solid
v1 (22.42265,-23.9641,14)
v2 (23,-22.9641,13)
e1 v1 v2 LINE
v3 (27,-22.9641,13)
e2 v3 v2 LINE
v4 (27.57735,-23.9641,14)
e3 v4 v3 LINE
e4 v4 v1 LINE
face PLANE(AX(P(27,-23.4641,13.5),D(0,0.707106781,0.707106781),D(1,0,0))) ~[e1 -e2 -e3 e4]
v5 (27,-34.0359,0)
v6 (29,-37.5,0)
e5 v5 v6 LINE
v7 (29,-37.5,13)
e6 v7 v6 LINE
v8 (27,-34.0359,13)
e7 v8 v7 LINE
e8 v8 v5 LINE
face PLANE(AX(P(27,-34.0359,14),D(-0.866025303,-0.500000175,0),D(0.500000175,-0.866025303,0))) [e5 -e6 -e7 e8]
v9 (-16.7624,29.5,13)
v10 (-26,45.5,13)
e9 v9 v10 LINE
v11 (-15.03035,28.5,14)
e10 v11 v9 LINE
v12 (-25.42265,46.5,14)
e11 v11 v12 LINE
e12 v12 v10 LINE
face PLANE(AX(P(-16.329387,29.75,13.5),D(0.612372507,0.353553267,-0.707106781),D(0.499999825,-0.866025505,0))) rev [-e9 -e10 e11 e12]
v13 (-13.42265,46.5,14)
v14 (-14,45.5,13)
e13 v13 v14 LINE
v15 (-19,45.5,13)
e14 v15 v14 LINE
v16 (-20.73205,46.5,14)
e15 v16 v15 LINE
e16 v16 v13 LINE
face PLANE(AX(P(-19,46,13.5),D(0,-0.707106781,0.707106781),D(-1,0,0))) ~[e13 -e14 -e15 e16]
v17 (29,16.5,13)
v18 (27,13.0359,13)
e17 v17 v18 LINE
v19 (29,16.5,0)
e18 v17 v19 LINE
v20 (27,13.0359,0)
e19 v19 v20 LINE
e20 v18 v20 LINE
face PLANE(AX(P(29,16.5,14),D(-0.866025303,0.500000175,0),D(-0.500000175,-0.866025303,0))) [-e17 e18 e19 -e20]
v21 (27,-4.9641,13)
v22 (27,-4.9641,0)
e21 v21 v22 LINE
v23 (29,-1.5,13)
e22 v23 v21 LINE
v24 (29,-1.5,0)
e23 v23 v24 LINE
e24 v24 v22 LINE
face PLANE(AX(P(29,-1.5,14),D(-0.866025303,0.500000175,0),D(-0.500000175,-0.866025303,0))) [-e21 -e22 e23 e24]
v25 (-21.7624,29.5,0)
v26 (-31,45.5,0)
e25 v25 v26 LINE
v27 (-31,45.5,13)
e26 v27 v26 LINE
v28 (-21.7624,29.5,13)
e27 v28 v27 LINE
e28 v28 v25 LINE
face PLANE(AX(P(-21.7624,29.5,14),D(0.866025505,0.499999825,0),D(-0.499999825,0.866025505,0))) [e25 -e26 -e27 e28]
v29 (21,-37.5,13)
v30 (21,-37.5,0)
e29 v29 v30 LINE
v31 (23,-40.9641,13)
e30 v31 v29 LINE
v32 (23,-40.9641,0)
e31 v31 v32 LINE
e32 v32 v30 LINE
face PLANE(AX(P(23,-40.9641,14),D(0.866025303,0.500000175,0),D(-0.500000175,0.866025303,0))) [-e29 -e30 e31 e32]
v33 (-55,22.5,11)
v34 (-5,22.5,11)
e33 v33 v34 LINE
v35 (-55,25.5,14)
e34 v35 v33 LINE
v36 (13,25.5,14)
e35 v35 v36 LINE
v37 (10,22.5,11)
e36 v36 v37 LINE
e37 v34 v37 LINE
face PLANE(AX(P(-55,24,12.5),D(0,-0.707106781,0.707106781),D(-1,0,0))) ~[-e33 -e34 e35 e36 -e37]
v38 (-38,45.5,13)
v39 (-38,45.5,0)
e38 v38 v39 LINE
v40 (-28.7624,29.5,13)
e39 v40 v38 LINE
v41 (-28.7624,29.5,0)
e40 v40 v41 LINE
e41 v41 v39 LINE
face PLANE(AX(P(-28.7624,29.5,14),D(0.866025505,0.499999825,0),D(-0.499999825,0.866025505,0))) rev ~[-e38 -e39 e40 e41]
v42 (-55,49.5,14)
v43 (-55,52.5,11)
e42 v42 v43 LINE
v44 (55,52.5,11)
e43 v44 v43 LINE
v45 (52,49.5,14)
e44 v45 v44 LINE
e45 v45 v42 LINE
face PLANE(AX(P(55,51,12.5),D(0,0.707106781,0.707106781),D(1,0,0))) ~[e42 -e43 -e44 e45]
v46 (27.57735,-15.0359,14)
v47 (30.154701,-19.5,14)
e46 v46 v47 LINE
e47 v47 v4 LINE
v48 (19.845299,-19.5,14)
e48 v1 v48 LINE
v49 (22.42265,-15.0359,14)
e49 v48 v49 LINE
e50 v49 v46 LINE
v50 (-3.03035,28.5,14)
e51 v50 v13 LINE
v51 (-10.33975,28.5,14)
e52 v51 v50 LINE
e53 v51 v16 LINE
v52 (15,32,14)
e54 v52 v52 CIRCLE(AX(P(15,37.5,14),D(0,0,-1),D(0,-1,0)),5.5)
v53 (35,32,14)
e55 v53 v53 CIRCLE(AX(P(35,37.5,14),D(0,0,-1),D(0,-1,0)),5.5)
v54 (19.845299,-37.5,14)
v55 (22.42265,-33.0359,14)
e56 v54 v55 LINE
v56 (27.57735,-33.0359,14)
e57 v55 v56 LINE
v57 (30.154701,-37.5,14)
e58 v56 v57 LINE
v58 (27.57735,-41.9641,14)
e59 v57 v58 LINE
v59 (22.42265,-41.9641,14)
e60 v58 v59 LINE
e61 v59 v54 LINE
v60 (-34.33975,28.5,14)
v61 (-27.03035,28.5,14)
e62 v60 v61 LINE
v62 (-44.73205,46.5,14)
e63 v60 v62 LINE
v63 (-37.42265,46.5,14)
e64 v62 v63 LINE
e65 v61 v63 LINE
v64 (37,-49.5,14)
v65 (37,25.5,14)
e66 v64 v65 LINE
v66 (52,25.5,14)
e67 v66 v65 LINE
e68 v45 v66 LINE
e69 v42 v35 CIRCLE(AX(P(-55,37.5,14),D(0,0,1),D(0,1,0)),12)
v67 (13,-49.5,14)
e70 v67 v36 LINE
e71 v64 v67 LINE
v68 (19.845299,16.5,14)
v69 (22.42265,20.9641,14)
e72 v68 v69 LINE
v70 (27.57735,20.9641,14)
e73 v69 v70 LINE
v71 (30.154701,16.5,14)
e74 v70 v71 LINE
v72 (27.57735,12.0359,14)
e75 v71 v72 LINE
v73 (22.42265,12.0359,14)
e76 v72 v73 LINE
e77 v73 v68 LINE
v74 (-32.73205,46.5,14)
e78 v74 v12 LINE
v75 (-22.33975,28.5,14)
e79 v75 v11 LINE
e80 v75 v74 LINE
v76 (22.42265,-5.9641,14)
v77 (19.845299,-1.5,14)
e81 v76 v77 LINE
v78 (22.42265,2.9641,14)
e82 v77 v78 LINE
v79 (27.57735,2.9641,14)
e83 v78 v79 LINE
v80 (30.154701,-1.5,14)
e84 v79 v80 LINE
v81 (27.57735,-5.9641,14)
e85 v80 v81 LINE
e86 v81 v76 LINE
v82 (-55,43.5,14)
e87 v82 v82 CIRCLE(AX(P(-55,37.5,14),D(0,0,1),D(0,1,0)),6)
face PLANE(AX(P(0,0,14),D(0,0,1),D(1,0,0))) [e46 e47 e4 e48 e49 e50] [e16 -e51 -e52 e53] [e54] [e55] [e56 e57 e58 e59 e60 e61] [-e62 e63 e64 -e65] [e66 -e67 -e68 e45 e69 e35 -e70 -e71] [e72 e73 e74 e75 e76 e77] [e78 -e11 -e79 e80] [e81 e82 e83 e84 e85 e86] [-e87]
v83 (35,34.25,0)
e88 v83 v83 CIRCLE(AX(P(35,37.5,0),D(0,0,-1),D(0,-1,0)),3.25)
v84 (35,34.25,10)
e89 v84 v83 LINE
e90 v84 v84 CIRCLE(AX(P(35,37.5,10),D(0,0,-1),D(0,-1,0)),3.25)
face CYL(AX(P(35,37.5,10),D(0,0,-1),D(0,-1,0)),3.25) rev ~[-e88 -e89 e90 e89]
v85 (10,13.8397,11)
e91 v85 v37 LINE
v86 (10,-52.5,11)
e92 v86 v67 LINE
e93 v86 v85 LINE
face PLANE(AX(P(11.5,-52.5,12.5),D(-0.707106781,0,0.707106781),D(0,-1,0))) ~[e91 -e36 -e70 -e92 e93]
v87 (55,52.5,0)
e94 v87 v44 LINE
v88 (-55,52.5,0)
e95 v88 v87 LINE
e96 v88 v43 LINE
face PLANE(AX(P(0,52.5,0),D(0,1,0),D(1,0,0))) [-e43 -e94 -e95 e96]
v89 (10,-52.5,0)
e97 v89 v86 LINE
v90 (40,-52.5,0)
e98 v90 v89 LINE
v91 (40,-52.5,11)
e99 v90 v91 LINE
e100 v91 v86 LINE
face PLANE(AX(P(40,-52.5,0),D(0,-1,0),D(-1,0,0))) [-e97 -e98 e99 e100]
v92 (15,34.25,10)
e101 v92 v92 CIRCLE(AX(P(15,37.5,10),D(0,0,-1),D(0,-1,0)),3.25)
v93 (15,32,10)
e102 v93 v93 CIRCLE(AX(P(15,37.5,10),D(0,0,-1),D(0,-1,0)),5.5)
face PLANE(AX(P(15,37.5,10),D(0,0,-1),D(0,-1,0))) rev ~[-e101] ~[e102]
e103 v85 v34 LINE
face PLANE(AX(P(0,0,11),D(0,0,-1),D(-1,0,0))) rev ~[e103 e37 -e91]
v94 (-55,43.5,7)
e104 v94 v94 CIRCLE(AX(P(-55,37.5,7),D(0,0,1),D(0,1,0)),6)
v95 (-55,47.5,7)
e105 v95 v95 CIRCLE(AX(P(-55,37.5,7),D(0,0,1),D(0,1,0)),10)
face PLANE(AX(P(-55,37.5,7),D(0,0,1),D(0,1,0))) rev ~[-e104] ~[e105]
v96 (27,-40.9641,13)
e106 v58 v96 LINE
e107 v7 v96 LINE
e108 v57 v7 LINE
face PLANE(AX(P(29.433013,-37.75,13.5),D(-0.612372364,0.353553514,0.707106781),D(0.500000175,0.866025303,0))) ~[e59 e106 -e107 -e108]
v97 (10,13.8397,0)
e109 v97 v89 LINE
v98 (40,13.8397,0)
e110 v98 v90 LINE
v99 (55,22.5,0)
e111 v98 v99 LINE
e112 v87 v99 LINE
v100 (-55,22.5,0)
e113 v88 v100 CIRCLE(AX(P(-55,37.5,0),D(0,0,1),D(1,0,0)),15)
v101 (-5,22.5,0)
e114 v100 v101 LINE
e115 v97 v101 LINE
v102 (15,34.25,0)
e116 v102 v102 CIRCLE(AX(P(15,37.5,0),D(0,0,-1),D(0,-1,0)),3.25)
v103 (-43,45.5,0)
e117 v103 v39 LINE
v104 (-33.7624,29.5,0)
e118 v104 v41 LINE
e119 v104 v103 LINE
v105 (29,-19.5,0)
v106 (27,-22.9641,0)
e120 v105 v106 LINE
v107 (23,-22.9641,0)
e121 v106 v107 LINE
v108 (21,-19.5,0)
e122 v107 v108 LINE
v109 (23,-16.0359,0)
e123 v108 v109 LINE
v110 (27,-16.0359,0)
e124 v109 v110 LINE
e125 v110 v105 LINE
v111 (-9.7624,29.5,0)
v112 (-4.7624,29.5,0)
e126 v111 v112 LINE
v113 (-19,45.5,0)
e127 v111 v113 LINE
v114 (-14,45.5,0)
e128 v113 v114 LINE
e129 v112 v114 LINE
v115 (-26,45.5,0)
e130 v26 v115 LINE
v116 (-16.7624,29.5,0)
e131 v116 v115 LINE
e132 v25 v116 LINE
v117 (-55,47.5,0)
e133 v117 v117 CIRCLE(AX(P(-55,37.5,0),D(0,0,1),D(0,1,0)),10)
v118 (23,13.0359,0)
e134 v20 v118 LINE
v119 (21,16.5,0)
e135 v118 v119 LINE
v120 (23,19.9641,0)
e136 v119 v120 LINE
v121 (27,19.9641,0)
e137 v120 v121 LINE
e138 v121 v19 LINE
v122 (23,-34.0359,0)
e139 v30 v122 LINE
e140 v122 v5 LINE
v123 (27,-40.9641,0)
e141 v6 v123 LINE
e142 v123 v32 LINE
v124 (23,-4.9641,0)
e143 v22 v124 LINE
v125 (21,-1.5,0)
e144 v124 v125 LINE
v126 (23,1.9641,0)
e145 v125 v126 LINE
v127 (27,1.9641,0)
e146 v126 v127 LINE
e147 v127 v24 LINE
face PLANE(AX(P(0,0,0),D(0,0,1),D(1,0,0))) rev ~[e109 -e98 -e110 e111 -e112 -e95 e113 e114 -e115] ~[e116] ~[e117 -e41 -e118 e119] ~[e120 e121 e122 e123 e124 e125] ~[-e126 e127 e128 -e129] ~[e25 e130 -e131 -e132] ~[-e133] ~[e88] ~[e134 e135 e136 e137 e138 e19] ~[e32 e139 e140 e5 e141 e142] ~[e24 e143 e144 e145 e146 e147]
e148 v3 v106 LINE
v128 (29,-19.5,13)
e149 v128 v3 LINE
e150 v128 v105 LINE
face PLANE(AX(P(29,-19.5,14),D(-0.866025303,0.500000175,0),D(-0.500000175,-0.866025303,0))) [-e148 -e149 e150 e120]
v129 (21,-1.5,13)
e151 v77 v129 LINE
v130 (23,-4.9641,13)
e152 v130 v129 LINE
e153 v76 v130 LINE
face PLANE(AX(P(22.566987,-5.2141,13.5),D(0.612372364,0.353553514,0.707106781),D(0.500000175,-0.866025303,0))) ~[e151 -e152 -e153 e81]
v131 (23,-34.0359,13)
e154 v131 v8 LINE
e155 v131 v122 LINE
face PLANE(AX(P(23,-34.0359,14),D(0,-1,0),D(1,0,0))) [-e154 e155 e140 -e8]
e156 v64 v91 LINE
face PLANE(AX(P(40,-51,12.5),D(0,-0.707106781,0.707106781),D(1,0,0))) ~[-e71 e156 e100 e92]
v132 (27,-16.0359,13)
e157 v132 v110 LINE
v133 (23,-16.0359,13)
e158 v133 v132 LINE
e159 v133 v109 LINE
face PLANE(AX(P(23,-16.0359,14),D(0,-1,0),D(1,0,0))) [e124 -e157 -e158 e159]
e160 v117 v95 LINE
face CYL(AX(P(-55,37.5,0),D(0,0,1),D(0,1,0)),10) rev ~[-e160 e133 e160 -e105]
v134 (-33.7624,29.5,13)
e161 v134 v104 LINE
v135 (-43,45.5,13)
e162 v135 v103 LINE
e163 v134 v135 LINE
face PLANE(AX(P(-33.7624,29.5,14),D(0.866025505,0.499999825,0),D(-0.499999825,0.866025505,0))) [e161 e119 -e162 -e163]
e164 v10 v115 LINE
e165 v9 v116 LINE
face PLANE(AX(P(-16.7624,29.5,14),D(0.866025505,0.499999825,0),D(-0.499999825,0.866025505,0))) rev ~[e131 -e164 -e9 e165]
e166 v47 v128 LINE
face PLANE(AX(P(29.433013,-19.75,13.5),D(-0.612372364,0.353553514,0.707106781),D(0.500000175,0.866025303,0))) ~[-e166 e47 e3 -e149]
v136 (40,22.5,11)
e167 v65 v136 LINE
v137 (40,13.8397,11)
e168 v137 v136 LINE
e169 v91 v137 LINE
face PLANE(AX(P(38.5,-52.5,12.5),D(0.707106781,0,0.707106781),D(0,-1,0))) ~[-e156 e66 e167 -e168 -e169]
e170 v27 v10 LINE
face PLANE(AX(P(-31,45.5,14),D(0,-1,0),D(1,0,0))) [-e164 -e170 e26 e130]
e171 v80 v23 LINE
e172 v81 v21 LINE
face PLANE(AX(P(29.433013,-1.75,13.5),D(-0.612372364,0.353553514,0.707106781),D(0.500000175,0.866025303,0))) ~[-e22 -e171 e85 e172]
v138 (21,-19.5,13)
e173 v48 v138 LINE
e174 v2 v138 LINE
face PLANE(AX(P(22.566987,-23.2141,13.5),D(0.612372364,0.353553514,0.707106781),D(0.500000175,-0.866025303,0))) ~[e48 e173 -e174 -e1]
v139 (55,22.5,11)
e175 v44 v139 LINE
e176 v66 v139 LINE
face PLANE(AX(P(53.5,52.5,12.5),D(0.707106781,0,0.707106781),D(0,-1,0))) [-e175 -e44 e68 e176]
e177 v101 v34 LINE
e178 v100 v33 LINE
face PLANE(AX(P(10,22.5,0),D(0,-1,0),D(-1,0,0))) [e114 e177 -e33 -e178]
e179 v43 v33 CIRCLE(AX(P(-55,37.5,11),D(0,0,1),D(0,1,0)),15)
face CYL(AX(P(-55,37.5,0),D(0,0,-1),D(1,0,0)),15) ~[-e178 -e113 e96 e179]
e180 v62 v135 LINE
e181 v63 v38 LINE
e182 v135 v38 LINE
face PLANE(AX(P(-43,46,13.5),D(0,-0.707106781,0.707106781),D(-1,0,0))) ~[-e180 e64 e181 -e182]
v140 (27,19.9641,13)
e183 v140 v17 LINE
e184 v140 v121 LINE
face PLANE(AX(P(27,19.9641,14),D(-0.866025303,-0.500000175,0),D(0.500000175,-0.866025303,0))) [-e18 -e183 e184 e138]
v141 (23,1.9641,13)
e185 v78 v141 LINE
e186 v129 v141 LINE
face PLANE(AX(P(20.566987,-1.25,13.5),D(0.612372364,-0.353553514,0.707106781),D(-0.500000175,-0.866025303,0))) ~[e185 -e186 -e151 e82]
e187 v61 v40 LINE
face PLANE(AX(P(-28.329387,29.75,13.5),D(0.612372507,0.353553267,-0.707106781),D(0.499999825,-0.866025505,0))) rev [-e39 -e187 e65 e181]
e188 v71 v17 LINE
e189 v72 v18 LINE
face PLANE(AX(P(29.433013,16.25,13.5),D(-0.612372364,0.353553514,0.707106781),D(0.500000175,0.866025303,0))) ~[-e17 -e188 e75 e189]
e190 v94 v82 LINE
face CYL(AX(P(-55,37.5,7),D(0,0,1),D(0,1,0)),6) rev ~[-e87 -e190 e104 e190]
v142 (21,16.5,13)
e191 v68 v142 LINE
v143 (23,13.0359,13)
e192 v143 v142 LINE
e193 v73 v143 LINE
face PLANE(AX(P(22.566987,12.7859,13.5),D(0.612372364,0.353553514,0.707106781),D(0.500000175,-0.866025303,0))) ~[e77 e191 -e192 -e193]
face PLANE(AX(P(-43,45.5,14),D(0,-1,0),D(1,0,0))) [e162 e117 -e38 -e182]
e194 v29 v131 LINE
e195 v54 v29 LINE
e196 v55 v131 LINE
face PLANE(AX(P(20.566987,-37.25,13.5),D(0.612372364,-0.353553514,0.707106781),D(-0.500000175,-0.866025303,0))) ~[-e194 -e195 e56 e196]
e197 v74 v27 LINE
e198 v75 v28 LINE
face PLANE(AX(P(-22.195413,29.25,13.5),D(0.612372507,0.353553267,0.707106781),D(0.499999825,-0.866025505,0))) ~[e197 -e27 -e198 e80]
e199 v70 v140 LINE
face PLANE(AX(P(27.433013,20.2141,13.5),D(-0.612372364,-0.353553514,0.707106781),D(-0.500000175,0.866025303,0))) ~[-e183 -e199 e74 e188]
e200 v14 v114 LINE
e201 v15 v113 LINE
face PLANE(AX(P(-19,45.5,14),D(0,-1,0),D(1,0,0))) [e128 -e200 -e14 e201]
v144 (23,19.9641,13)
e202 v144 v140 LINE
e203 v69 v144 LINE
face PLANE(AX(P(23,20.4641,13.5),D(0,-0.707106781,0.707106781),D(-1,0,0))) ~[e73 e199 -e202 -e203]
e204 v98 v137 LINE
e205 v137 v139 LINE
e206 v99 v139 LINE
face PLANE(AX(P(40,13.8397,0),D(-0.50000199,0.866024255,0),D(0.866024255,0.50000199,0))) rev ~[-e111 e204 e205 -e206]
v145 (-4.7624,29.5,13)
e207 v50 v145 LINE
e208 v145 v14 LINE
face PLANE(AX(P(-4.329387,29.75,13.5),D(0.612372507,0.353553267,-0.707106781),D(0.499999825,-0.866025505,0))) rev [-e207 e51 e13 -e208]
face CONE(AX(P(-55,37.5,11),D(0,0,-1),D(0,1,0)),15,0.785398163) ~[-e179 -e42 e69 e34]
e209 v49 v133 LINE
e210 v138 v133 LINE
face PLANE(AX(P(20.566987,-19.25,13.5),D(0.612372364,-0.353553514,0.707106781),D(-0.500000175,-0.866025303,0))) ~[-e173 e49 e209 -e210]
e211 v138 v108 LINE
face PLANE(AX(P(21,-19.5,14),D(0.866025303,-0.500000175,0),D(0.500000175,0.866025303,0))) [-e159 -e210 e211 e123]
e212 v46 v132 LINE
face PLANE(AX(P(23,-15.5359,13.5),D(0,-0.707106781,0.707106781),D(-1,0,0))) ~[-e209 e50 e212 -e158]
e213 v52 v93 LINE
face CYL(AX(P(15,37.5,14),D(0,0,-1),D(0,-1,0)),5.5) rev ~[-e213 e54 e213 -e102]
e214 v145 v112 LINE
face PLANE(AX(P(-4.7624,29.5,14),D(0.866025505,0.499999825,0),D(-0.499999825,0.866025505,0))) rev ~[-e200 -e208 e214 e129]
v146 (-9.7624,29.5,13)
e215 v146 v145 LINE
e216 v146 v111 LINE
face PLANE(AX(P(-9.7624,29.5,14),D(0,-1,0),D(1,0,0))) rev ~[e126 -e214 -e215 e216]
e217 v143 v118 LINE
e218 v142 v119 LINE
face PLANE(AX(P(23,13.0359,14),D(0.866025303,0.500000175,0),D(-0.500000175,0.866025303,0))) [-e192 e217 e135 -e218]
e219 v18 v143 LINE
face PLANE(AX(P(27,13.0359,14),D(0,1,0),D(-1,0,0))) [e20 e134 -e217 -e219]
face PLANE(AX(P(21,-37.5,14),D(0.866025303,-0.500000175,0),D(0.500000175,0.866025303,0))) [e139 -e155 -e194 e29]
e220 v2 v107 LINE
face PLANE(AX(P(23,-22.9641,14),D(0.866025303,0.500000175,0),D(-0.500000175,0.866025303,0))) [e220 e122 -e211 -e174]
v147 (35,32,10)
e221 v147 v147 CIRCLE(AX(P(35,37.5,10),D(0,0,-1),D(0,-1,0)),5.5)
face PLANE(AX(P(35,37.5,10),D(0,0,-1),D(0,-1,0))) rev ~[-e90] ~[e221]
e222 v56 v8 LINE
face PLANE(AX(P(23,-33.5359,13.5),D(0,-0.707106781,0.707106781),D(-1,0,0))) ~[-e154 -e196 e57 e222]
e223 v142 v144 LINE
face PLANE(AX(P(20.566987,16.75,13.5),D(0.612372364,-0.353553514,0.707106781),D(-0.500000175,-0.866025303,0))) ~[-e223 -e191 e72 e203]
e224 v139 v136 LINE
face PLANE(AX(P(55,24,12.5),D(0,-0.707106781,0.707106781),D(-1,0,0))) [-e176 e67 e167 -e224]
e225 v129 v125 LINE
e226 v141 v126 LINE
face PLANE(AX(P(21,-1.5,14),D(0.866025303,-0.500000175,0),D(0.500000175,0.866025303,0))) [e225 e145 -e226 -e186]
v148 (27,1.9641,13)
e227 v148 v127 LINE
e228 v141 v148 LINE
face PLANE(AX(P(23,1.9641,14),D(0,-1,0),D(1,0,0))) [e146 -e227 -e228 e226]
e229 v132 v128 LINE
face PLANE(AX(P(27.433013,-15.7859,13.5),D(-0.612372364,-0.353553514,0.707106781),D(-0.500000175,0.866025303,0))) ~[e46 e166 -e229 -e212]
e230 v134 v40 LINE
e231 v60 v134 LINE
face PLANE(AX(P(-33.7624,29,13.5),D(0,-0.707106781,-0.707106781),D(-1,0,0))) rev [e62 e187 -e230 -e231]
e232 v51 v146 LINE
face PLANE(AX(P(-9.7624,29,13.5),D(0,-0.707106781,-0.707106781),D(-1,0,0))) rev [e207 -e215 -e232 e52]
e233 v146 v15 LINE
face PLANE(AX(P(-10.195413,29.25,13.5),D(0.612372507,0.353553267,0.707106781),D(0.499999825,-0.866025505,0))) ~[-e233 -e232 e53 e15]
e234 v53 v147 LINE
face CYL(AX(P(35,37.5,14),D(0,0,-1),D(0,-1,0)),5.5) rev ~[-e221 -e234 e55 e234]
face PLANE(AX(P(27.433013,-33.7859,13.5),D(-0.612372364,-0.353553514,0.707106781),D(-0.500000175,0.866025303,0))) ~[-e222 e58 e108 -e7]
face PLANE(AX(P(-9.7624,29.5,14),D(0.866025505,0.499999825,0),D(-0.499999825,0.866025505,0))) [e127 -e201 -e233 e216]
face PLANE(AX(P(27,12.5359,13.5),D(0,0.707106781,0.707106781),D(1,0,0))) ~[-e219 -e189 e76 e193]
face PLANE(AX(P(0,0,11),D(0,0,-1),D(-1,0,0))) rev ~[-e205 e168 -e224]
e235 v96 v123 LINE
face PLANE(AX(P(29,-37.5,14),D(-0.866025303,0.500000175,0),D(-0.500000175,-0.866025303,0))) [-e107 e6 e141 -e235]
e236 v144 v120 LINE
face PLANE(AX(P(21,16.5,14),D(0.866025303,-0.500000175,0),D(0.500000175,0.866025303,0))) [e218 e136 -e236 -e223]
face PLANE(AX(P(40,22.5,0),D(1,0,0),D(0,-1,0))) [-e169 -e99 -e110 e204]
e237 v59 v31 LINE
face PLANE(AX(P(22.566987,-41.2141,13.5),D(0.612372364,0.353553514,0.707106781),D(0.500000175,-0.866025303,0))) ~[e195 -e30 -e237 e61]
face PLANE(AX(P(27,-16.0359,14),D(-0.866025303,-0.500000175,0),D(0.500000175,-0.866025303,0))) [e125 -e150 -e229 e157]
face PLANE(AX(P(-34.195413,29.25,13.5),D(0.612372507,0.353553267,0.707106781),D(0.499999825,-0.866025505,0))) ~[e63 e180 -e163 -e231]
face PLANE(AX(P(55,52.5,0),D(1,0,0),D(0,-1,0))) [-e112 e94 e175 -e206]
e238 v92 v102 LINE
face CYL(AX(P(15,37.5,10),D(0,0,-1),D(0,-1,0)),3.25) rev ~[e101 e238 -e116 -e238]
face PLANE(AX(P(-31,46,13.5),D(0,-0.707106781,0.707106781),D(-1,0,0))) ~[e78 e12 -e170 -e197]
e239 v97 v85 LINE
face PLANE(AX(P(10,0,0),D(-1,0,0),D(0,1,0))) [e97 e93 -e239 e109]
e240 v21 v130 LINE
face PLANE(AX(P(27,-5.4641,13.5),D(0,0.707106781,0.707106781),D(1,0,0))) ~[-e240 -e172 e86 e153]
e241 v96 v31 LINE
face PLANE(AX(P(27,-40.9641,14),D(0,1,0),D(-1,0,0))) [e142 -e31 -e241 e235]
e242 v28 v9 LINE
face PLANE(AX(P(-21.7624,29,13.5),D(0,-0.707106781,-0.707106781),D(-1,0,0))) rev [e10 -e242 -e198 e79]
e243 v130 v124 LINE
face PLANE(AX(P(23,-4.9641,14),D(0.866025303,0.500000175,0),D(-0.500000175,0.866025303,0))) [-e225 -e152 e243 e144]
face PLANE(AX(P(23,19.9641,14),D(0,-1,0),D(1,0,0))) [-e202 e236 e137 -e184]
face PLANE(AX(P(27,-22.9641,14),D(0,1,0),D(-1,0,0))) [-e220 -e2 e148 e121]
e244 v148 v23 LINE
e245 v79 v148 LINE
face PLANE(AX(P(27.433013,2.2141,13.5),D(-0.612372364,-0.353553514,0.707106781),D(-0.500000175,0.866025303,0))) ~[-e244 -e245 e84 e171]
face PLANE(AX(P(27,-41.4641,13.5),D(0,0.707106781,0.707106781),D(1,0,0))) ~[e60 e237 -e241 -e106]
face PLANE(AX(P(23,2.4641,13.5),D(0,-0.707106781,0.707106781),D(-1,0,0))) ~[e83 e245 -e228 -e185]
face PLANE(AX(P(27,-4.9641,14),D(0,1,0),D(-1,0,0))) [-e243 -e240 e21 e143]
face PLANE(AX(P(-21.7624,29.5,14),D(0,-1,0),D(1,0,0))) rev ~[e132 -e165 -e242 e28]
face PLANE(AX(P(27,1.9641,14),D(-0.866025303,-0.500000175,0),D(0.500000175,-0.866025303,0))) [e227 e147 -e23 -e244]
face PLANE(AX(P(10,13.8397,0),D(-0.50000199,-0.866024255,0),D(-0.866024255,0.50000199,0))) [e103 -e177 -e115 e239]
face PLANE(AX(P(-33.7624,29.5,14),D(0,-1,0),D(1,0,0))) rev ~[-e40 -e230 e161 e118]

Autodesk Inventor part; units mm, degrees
ref_plane "YZ Plane" through (0, 0, 0) normal (1, 0, 0) x (0, 1, 0)
ref_plane "XZ Plane" through (0, 0, 0) normal (0, 1, 0) x (-1, 0, 0)
sketch "Náčrt1" plane through (0, 0, 0) normal (0, 0, 1) x (1, 0, 0)
  line L0 (-95, 0) -> (80, 0) projected
  line L1 (0, -73.5) -> (0, 73.5) projected
  line L2 (-55, 52.5) -> (55, 52.5)
  line L3 (55, 52.5) -> (55, 22.5)
  line L4 (55, 22.5) -> (-55, 22.5)
  line L5 (-55, 22.5) -> (-55, 52.5)
  line L6 (40, -52.5) -> (10, -52.5)
  line L7 (10, -52.5) -> (10, 22.5)
  line L8 (10, 22.5) -> (40, 22.5)
  line L9 (40, 22.5) -> (40, -52.5)
  circle A0 centre (-55, 37.5) radius 15
  point P0 (0, 0)
  dimension "d0" = 30
  dimension "d1" = 110
  dimension "d2" = 30
  dimension "d3" = 15
  dimension "d4" = 75
extrude "Vysunutí1" add sketch "Náčrt1" along normal blind 14 contours L7 L4 L9 L0 | L0 L9 L6 L7 | L4 A0 L2 L1 | L1 L2 L3 L4 | A0 L5 | L5 A0
sketch "Náčrt2" plane through (0, 0, 0) normal (0, 0, -1) x (-1, 0, 0)
  line L0 (-55, 52.5) -> (55, 52.5) projected
  line L1 (-55, 52.5) -> (55, 52.5) projected
  line L2 (-55, 22.5) -> (-55, 52.5) projected
  line L3 (-40, 22.5) -> (-55, 22.5) projected
  line L4 (-40, -52.5) -> (-40, 22.5) projected
  line L5 (-10, -52.5) -> (-40, -52.5) projected
  line L6 (-10, 22.5) -> (-10, -52.5) projected
  line L7 (55, 22.5) -> (-10, 22.5) projected
  arc A0 (55, 22.5) -> (55, 52.5) centre (55, 37.5) ccw projected
  point P0 (0, 0)
hole "Díra1" at (-55, 37.5, 0) direction (0, 0, 1) diameter 12 end through all counterbore diameter 20 counterbore depth 7
chamfer "Zkosení1" distance 3 angle 45 8 edges at (0, 52.5, 14) (-70, 37.5, 14) (-22.5, 22.5, 14) (10, -15, 14) (40, -15, 14) (47.5, 22.5, 14) (55, 37.5, 14) (25, -52.5, 14)
sketch "Náčrt3" plane through (0, 0, 14) normal (0, 0, 1) x (1, 0, 0)
  circle A0 centre (-55, 37.5) radius 6 projected
  line L0 (-55, 49.5) -> (52, 49.5) projected
  arc A1 (-55, 49.5) -> (-55, 25.5) centre (-55, 37.5) ccw projected
  line L1 (13, 25.5) -> (-55, 25.5) projected
  line L2 (13, -49.5) -> (13, 25.5) projected
  line L3 (37, -49.5) -> (13, -49.5) projected
  line L4 (37, 25.5) -> (37, -49.5) projected
  line L5 (52, 25.5) -> (37, 25.5) projected
  line L6 (52, 49.5) -> (52, 25.5) projected
  line L7 (0, 73.5) -> (0, -73.5) projected
  line L8 (-95, 0) -> (80, 0) projected
  point P0 (0, 0)
  point P1 (35, 37.5)
  dimension "d17" = 12
  dimension "d18" = 17
hole "Díra2" at (35, 37.5, 14) direction (0, 0, -1) diameter 6.5 end through all counterbore diameter 11 counterbore depth 4 clearance for "Strojní šroub se zápustnou hlavou" size "M6" standard "Ansi M metrický profil"
pattern_linear "Obdélníkové pole1" count 2 spacing 20 along (-1, 0, 0) of "Díra2"
sketch "Náčrt4" plane through (0, 0, 14) normal (0, 0, 1) x (1, 0, 0)
  line L0 (-95, 0) -> (80, 0) projected
  line L1 (0, -73.5) -> (0, 73.5) projected
  circle A0 centre (15, 37.5) radius 5.5 projected
  circle A1 centre (35, 37.5) radius 5.5 projected
  circle A2 centre (-55, 37.5) radius 6 projected
  line L2 (-55, 49.5) -> (52, 49.5) projected
  arc A3 (-55, 49.5) -> (-55, 25.5) centre (-55, 37.5) ccw projected
  line L3 (13, 25.5) -> (-55, 25.5) projected
  line L4 (13, -49.5) -> (13, 25.5) projected
  line L5 (37, -49.5) -> (13, -49.5) projected
  line L6 (37, 25.5) -> (37, -49.5) projected
  line L7 (52, 25.5) -> (37, 25.5) projected
  line L8 (52, 49.5) -> (52, 25.5) projected
  line L9 (-33.7624, 29.5) -> (-28.7624, 29.5)
  line L10 (-28.7624, 29.5) -> (-38, 45.5)
  line L11 (-28.7624, 29.5) -> (-10.2872, 29.5) construction
  line L12 (-33.7624, 29.5) -> (-43, 45.5)
  line L13 (-43, 45.5) -> (-38, 45.5)
  point P0 (0, 0)
  dimension "d29" = 120
  dimension "d31" = 5
  dimension "d32" = 4
  dimension "d33" = 4
  dimension "d34" = 12
extrude "Vysunutí2" cut sketch "Náčrt4" against normal through all contours L12 L13 L10 L9
chamfer "Zkosení2" distance 1 angle 45 4 edges at (-38.3812, 37.5, 14) (-40.5, 45.5, 14) (-33.3812, 37.5, 14) (-31.2624, 29.5, 14)
pattern_linear "Obdélníkové pole2" count 3 spacing 12 along (1, 0, 0) of "Vysunutí2", "Zkosení2"
sketch "Náčrt5" plane through (0, 0, 14) normal (0, 0, 1) x (1, 0, 0)
  line L0 (-32.7321, 46.5) -> (-22.3397, 28.5) projected
  line L1 (-25.4226, 46.5) -> (-32.7321, 46.5) projected
  line L2 (-15.0303, 28.5) -> (-25.4226, 46.5) projected
  line L3 (-22.3397, 28.5) -> (-15.0303, 28.5) projected
  line L4 (-55, 49.5) -> (52, 49.5) projected
  arc A0 (-55, 49.5) -> (-55, 25.5) centre (-55, 37.5) ccw projected
  line L5 (13, 25.5) -> (-55, 25.5) projected
  line L6 (13, -49.5) -> (13, 25.5) projected
  line L7 (37, -49.5) -> (13, -49.5) projected
  line L8 (37, 25.5) -> (37, -49.5) projected
  line L9 (52, 25.5) -> (37, 25.5) projected
  line L10 (52, 49.5) -> (52, 25.5) projected
  circle A1 centre (-55, 37.5) radius 6 projected
  circle A2 centre (35, 37.5) radius 5.5 projected
  circle A3 centre (15, 37.5) radius 5.5 projected
  line L11 (-27.0303, 28.5) -> (-37.4226, 46.5) projected
  line L12 (-34.3397, 28.5) -> (-27.0303, 28.5) projected
  line L13 (-44.7321, 46.5) -> (-34.3397, 28.5) projected
  line L14 (-37.4226, 46.5) -> (-44.7321, 46.5) projected
  line L15 (-20.7321, 46.5) -> (-10.3397, 28.5) projected
  line L16 (-13.4226, 46.5) -> (-20.7321, 46.5) projected
  line L17 (-3.0303, 28.5) -> (-13.4226, 46.5) projected
  line L18 (-10.3397, 28.5) -> (-3.0303, 28.5) projected
  line L19 (0, -73.5) -> (0, 73.5) projected
  line L20 (27, 19.9641) -> (29, 16.5)
  line L21 (29, 16.5) -> (27, 13.0359)
  line L22 (27, 13.0359) -> (23, 13.0359)
  line L23 (23, 13.0359) -> (21, 16.5)
  line L24 (21, 16.5) -> (23, 19.9641)
  line L25 (23, 19.9641) -> (27, 19.9641)
  point P0 (0, 0)
  point P1 (25, 16.5)
  dimension "d43" = 4
  dimension "d44" = 9
  dimension "d45" = 12
  dimension "d52" = 3.4641
extrude "Vysunutí3" cut sketch "Náčrt5" against normal through all contours L20 L21 L22 L23 L24 L25
chamfer "Zkosení3" distance 1 angle 45 6 edges at (25, 19.9641, 14) (28, 18.2321, 14) (28, 14.7679, 14) (25, 13.0359, 14) (22, 14.7679, 14) (22, 18.2321, 14)
pattern_linear "Obdélníkové pole3" count 4 spacing 18 along (0, -1, 0) of "Vysunutí3", "Zkosení3"
ref_plane "Pracovní rovina1" through (0, 0, 0) normal (0, 0, -1) x (-1, 0, 0)
sketch "Náčrt7" plane through (0, 0, 0) normal (0, 0, -1) x (-1, 0, 0)
  line L0 (-29, -37.5) -> (-27, -34.0359) projected
  line L1 (-27, -34.0359) -> (-23, -34.0359) projected
  line L2 (-23, -34.0359) -> (-21, -37.5) projected
  line L3 (-21, -37.5) -> (-23, -40.9641) projected
  line L4 (-23, -40.9641) -> (-27, -40.9641) projected
  line L5 (-27, -40.9641) -> (-29, -37.5) projected
  line L6 (-29, -19.5) -> (-27, -16.0359) projected
  line L7 (-27, -16.0359) -> (-23, -16.0359) projected
  line L8 (-23, -16.0359) -> (-21, -19.5) projected
  line L9 (-21, -19.5) -> (-23, -22.9641) projected
  line L10 (-23, -22.9641) -> (-27, -22.9641) projected
  line L11 (-27, -22.9641) -> (-29, -19.5) projected
  line L12 (-29, -1.5) -> (-27, 1.9641) projected
  line L13 (-27, 1.9641) -> (-23, 1.9641) projected
  line L14 (-23, 1.9641) -> (-21, -1.5) projected
  line L15 (-21, -1.5) -> (-23, -4.9641) projected
  line L16 (-23, -4.9641) -> (-27, -4.9641) projected
  line L17 (-27, -4.9641) -> (-29, -1.5) projected
  line L18 (-21, 16.5) -> (-23, 13.0359) projected
  line L19 (-23, 13.0359) -> (-27, 13.0359) projected
  line L20 (-27, 13.0359) -> (-29, 16.5) projected
  line L21 (-29, 16.5) -> (-27, 19.9641) projected
  line L22 (-27, 19.9641) -> (-23, 19.9641) projected
  line L23 (-23, 19.9641) -> (-21, 16.5) projected
  line L24 (19, 45.5) -> (9.7624, 29.5) projected
  line L25 (9.7624, 29.5) -> (4.7624, 29.5) projected
  line L26 (4.7624, 29.5) -> (14, 45.5) projected
  line L27 (14, 45.5) -> (19, 45.5) projected
  line L28 (31, 45.5) -> (21.7624, 29.5) projected
  line L29 (21.7624, 29.5) -> (16.7624, 29.5) projected
  line L30 (16.7624, 29.5) -> (26, 45.5) projected
  line L31 (26, 45.5) -> (31, 45.5) projected
  line L32 (28.7624, 29.5) -> (38, 45.5) projected
  line L33 (38, 45.5) -> (43, 45.5) projected
  line L34 (43, 45.5) -> (33.7624, 29.5) projected
  line L35 (33.7624, 29.5) -> (28.7624, 29.5) projected
  circle A0 centre (-15, 37.5) radius 3.25 projected
  circle A1 centre (-35, 37.5) radius 3.25 projected
  circle A2 centre (55, 37.5) radius 10 projected
  line L36 (-55, 52.5) -> (55, 52.5) projected
  line L37 (-55, 22.5) -> (-55, 52.5) projected
  line L38 (-40, 22.5) -> (-55, 22.5) projected
  line L39 (-40, -52.5) -> (-40, 22.5) projected
  line L40 (-10, -52.5) -> (-40, -52.5) projected
  line L41 (-10, 22.5) -> (-10, -52.5) projected
  line L42 (55, 22.5) -> (-10, 22.5) projected
  arc A3 (55, 22.5) -> (55, 52.5) centre (55, 37.5) ccw projected
  line L43 (-40, 13.8397) -> (-55, 22.5)
  line L44 (-10, 13.8397) -> (5, 22.5)
  line L45 (-10, 22.5) -> (-10, -52.5) projected
  line L46 (-10, 13.8397) -> (-10, 22.5)
  line L47 (-10, 22.5) -> (5, 22.5)
  line L48 (-40, -52.5) -> (-40, 22.5) projected
  line L49 (-40, 13.8397) -> (-40, 22.5)
  line L50 (-40, 22.5) -> (-55, 22.5)
  point P0 (0, 0)
  dimension "d68" = 15
  dimension "d69" = 15
  dimension "d70" = 30
  dimension "d71" = 30
extrude "Vysunutí4" add sketch "Náčrt7" against normal blind 11 contours L38 L39 L43 | L44 L41 L42
properties part number "blet_leg_30x30_3D tisk"
